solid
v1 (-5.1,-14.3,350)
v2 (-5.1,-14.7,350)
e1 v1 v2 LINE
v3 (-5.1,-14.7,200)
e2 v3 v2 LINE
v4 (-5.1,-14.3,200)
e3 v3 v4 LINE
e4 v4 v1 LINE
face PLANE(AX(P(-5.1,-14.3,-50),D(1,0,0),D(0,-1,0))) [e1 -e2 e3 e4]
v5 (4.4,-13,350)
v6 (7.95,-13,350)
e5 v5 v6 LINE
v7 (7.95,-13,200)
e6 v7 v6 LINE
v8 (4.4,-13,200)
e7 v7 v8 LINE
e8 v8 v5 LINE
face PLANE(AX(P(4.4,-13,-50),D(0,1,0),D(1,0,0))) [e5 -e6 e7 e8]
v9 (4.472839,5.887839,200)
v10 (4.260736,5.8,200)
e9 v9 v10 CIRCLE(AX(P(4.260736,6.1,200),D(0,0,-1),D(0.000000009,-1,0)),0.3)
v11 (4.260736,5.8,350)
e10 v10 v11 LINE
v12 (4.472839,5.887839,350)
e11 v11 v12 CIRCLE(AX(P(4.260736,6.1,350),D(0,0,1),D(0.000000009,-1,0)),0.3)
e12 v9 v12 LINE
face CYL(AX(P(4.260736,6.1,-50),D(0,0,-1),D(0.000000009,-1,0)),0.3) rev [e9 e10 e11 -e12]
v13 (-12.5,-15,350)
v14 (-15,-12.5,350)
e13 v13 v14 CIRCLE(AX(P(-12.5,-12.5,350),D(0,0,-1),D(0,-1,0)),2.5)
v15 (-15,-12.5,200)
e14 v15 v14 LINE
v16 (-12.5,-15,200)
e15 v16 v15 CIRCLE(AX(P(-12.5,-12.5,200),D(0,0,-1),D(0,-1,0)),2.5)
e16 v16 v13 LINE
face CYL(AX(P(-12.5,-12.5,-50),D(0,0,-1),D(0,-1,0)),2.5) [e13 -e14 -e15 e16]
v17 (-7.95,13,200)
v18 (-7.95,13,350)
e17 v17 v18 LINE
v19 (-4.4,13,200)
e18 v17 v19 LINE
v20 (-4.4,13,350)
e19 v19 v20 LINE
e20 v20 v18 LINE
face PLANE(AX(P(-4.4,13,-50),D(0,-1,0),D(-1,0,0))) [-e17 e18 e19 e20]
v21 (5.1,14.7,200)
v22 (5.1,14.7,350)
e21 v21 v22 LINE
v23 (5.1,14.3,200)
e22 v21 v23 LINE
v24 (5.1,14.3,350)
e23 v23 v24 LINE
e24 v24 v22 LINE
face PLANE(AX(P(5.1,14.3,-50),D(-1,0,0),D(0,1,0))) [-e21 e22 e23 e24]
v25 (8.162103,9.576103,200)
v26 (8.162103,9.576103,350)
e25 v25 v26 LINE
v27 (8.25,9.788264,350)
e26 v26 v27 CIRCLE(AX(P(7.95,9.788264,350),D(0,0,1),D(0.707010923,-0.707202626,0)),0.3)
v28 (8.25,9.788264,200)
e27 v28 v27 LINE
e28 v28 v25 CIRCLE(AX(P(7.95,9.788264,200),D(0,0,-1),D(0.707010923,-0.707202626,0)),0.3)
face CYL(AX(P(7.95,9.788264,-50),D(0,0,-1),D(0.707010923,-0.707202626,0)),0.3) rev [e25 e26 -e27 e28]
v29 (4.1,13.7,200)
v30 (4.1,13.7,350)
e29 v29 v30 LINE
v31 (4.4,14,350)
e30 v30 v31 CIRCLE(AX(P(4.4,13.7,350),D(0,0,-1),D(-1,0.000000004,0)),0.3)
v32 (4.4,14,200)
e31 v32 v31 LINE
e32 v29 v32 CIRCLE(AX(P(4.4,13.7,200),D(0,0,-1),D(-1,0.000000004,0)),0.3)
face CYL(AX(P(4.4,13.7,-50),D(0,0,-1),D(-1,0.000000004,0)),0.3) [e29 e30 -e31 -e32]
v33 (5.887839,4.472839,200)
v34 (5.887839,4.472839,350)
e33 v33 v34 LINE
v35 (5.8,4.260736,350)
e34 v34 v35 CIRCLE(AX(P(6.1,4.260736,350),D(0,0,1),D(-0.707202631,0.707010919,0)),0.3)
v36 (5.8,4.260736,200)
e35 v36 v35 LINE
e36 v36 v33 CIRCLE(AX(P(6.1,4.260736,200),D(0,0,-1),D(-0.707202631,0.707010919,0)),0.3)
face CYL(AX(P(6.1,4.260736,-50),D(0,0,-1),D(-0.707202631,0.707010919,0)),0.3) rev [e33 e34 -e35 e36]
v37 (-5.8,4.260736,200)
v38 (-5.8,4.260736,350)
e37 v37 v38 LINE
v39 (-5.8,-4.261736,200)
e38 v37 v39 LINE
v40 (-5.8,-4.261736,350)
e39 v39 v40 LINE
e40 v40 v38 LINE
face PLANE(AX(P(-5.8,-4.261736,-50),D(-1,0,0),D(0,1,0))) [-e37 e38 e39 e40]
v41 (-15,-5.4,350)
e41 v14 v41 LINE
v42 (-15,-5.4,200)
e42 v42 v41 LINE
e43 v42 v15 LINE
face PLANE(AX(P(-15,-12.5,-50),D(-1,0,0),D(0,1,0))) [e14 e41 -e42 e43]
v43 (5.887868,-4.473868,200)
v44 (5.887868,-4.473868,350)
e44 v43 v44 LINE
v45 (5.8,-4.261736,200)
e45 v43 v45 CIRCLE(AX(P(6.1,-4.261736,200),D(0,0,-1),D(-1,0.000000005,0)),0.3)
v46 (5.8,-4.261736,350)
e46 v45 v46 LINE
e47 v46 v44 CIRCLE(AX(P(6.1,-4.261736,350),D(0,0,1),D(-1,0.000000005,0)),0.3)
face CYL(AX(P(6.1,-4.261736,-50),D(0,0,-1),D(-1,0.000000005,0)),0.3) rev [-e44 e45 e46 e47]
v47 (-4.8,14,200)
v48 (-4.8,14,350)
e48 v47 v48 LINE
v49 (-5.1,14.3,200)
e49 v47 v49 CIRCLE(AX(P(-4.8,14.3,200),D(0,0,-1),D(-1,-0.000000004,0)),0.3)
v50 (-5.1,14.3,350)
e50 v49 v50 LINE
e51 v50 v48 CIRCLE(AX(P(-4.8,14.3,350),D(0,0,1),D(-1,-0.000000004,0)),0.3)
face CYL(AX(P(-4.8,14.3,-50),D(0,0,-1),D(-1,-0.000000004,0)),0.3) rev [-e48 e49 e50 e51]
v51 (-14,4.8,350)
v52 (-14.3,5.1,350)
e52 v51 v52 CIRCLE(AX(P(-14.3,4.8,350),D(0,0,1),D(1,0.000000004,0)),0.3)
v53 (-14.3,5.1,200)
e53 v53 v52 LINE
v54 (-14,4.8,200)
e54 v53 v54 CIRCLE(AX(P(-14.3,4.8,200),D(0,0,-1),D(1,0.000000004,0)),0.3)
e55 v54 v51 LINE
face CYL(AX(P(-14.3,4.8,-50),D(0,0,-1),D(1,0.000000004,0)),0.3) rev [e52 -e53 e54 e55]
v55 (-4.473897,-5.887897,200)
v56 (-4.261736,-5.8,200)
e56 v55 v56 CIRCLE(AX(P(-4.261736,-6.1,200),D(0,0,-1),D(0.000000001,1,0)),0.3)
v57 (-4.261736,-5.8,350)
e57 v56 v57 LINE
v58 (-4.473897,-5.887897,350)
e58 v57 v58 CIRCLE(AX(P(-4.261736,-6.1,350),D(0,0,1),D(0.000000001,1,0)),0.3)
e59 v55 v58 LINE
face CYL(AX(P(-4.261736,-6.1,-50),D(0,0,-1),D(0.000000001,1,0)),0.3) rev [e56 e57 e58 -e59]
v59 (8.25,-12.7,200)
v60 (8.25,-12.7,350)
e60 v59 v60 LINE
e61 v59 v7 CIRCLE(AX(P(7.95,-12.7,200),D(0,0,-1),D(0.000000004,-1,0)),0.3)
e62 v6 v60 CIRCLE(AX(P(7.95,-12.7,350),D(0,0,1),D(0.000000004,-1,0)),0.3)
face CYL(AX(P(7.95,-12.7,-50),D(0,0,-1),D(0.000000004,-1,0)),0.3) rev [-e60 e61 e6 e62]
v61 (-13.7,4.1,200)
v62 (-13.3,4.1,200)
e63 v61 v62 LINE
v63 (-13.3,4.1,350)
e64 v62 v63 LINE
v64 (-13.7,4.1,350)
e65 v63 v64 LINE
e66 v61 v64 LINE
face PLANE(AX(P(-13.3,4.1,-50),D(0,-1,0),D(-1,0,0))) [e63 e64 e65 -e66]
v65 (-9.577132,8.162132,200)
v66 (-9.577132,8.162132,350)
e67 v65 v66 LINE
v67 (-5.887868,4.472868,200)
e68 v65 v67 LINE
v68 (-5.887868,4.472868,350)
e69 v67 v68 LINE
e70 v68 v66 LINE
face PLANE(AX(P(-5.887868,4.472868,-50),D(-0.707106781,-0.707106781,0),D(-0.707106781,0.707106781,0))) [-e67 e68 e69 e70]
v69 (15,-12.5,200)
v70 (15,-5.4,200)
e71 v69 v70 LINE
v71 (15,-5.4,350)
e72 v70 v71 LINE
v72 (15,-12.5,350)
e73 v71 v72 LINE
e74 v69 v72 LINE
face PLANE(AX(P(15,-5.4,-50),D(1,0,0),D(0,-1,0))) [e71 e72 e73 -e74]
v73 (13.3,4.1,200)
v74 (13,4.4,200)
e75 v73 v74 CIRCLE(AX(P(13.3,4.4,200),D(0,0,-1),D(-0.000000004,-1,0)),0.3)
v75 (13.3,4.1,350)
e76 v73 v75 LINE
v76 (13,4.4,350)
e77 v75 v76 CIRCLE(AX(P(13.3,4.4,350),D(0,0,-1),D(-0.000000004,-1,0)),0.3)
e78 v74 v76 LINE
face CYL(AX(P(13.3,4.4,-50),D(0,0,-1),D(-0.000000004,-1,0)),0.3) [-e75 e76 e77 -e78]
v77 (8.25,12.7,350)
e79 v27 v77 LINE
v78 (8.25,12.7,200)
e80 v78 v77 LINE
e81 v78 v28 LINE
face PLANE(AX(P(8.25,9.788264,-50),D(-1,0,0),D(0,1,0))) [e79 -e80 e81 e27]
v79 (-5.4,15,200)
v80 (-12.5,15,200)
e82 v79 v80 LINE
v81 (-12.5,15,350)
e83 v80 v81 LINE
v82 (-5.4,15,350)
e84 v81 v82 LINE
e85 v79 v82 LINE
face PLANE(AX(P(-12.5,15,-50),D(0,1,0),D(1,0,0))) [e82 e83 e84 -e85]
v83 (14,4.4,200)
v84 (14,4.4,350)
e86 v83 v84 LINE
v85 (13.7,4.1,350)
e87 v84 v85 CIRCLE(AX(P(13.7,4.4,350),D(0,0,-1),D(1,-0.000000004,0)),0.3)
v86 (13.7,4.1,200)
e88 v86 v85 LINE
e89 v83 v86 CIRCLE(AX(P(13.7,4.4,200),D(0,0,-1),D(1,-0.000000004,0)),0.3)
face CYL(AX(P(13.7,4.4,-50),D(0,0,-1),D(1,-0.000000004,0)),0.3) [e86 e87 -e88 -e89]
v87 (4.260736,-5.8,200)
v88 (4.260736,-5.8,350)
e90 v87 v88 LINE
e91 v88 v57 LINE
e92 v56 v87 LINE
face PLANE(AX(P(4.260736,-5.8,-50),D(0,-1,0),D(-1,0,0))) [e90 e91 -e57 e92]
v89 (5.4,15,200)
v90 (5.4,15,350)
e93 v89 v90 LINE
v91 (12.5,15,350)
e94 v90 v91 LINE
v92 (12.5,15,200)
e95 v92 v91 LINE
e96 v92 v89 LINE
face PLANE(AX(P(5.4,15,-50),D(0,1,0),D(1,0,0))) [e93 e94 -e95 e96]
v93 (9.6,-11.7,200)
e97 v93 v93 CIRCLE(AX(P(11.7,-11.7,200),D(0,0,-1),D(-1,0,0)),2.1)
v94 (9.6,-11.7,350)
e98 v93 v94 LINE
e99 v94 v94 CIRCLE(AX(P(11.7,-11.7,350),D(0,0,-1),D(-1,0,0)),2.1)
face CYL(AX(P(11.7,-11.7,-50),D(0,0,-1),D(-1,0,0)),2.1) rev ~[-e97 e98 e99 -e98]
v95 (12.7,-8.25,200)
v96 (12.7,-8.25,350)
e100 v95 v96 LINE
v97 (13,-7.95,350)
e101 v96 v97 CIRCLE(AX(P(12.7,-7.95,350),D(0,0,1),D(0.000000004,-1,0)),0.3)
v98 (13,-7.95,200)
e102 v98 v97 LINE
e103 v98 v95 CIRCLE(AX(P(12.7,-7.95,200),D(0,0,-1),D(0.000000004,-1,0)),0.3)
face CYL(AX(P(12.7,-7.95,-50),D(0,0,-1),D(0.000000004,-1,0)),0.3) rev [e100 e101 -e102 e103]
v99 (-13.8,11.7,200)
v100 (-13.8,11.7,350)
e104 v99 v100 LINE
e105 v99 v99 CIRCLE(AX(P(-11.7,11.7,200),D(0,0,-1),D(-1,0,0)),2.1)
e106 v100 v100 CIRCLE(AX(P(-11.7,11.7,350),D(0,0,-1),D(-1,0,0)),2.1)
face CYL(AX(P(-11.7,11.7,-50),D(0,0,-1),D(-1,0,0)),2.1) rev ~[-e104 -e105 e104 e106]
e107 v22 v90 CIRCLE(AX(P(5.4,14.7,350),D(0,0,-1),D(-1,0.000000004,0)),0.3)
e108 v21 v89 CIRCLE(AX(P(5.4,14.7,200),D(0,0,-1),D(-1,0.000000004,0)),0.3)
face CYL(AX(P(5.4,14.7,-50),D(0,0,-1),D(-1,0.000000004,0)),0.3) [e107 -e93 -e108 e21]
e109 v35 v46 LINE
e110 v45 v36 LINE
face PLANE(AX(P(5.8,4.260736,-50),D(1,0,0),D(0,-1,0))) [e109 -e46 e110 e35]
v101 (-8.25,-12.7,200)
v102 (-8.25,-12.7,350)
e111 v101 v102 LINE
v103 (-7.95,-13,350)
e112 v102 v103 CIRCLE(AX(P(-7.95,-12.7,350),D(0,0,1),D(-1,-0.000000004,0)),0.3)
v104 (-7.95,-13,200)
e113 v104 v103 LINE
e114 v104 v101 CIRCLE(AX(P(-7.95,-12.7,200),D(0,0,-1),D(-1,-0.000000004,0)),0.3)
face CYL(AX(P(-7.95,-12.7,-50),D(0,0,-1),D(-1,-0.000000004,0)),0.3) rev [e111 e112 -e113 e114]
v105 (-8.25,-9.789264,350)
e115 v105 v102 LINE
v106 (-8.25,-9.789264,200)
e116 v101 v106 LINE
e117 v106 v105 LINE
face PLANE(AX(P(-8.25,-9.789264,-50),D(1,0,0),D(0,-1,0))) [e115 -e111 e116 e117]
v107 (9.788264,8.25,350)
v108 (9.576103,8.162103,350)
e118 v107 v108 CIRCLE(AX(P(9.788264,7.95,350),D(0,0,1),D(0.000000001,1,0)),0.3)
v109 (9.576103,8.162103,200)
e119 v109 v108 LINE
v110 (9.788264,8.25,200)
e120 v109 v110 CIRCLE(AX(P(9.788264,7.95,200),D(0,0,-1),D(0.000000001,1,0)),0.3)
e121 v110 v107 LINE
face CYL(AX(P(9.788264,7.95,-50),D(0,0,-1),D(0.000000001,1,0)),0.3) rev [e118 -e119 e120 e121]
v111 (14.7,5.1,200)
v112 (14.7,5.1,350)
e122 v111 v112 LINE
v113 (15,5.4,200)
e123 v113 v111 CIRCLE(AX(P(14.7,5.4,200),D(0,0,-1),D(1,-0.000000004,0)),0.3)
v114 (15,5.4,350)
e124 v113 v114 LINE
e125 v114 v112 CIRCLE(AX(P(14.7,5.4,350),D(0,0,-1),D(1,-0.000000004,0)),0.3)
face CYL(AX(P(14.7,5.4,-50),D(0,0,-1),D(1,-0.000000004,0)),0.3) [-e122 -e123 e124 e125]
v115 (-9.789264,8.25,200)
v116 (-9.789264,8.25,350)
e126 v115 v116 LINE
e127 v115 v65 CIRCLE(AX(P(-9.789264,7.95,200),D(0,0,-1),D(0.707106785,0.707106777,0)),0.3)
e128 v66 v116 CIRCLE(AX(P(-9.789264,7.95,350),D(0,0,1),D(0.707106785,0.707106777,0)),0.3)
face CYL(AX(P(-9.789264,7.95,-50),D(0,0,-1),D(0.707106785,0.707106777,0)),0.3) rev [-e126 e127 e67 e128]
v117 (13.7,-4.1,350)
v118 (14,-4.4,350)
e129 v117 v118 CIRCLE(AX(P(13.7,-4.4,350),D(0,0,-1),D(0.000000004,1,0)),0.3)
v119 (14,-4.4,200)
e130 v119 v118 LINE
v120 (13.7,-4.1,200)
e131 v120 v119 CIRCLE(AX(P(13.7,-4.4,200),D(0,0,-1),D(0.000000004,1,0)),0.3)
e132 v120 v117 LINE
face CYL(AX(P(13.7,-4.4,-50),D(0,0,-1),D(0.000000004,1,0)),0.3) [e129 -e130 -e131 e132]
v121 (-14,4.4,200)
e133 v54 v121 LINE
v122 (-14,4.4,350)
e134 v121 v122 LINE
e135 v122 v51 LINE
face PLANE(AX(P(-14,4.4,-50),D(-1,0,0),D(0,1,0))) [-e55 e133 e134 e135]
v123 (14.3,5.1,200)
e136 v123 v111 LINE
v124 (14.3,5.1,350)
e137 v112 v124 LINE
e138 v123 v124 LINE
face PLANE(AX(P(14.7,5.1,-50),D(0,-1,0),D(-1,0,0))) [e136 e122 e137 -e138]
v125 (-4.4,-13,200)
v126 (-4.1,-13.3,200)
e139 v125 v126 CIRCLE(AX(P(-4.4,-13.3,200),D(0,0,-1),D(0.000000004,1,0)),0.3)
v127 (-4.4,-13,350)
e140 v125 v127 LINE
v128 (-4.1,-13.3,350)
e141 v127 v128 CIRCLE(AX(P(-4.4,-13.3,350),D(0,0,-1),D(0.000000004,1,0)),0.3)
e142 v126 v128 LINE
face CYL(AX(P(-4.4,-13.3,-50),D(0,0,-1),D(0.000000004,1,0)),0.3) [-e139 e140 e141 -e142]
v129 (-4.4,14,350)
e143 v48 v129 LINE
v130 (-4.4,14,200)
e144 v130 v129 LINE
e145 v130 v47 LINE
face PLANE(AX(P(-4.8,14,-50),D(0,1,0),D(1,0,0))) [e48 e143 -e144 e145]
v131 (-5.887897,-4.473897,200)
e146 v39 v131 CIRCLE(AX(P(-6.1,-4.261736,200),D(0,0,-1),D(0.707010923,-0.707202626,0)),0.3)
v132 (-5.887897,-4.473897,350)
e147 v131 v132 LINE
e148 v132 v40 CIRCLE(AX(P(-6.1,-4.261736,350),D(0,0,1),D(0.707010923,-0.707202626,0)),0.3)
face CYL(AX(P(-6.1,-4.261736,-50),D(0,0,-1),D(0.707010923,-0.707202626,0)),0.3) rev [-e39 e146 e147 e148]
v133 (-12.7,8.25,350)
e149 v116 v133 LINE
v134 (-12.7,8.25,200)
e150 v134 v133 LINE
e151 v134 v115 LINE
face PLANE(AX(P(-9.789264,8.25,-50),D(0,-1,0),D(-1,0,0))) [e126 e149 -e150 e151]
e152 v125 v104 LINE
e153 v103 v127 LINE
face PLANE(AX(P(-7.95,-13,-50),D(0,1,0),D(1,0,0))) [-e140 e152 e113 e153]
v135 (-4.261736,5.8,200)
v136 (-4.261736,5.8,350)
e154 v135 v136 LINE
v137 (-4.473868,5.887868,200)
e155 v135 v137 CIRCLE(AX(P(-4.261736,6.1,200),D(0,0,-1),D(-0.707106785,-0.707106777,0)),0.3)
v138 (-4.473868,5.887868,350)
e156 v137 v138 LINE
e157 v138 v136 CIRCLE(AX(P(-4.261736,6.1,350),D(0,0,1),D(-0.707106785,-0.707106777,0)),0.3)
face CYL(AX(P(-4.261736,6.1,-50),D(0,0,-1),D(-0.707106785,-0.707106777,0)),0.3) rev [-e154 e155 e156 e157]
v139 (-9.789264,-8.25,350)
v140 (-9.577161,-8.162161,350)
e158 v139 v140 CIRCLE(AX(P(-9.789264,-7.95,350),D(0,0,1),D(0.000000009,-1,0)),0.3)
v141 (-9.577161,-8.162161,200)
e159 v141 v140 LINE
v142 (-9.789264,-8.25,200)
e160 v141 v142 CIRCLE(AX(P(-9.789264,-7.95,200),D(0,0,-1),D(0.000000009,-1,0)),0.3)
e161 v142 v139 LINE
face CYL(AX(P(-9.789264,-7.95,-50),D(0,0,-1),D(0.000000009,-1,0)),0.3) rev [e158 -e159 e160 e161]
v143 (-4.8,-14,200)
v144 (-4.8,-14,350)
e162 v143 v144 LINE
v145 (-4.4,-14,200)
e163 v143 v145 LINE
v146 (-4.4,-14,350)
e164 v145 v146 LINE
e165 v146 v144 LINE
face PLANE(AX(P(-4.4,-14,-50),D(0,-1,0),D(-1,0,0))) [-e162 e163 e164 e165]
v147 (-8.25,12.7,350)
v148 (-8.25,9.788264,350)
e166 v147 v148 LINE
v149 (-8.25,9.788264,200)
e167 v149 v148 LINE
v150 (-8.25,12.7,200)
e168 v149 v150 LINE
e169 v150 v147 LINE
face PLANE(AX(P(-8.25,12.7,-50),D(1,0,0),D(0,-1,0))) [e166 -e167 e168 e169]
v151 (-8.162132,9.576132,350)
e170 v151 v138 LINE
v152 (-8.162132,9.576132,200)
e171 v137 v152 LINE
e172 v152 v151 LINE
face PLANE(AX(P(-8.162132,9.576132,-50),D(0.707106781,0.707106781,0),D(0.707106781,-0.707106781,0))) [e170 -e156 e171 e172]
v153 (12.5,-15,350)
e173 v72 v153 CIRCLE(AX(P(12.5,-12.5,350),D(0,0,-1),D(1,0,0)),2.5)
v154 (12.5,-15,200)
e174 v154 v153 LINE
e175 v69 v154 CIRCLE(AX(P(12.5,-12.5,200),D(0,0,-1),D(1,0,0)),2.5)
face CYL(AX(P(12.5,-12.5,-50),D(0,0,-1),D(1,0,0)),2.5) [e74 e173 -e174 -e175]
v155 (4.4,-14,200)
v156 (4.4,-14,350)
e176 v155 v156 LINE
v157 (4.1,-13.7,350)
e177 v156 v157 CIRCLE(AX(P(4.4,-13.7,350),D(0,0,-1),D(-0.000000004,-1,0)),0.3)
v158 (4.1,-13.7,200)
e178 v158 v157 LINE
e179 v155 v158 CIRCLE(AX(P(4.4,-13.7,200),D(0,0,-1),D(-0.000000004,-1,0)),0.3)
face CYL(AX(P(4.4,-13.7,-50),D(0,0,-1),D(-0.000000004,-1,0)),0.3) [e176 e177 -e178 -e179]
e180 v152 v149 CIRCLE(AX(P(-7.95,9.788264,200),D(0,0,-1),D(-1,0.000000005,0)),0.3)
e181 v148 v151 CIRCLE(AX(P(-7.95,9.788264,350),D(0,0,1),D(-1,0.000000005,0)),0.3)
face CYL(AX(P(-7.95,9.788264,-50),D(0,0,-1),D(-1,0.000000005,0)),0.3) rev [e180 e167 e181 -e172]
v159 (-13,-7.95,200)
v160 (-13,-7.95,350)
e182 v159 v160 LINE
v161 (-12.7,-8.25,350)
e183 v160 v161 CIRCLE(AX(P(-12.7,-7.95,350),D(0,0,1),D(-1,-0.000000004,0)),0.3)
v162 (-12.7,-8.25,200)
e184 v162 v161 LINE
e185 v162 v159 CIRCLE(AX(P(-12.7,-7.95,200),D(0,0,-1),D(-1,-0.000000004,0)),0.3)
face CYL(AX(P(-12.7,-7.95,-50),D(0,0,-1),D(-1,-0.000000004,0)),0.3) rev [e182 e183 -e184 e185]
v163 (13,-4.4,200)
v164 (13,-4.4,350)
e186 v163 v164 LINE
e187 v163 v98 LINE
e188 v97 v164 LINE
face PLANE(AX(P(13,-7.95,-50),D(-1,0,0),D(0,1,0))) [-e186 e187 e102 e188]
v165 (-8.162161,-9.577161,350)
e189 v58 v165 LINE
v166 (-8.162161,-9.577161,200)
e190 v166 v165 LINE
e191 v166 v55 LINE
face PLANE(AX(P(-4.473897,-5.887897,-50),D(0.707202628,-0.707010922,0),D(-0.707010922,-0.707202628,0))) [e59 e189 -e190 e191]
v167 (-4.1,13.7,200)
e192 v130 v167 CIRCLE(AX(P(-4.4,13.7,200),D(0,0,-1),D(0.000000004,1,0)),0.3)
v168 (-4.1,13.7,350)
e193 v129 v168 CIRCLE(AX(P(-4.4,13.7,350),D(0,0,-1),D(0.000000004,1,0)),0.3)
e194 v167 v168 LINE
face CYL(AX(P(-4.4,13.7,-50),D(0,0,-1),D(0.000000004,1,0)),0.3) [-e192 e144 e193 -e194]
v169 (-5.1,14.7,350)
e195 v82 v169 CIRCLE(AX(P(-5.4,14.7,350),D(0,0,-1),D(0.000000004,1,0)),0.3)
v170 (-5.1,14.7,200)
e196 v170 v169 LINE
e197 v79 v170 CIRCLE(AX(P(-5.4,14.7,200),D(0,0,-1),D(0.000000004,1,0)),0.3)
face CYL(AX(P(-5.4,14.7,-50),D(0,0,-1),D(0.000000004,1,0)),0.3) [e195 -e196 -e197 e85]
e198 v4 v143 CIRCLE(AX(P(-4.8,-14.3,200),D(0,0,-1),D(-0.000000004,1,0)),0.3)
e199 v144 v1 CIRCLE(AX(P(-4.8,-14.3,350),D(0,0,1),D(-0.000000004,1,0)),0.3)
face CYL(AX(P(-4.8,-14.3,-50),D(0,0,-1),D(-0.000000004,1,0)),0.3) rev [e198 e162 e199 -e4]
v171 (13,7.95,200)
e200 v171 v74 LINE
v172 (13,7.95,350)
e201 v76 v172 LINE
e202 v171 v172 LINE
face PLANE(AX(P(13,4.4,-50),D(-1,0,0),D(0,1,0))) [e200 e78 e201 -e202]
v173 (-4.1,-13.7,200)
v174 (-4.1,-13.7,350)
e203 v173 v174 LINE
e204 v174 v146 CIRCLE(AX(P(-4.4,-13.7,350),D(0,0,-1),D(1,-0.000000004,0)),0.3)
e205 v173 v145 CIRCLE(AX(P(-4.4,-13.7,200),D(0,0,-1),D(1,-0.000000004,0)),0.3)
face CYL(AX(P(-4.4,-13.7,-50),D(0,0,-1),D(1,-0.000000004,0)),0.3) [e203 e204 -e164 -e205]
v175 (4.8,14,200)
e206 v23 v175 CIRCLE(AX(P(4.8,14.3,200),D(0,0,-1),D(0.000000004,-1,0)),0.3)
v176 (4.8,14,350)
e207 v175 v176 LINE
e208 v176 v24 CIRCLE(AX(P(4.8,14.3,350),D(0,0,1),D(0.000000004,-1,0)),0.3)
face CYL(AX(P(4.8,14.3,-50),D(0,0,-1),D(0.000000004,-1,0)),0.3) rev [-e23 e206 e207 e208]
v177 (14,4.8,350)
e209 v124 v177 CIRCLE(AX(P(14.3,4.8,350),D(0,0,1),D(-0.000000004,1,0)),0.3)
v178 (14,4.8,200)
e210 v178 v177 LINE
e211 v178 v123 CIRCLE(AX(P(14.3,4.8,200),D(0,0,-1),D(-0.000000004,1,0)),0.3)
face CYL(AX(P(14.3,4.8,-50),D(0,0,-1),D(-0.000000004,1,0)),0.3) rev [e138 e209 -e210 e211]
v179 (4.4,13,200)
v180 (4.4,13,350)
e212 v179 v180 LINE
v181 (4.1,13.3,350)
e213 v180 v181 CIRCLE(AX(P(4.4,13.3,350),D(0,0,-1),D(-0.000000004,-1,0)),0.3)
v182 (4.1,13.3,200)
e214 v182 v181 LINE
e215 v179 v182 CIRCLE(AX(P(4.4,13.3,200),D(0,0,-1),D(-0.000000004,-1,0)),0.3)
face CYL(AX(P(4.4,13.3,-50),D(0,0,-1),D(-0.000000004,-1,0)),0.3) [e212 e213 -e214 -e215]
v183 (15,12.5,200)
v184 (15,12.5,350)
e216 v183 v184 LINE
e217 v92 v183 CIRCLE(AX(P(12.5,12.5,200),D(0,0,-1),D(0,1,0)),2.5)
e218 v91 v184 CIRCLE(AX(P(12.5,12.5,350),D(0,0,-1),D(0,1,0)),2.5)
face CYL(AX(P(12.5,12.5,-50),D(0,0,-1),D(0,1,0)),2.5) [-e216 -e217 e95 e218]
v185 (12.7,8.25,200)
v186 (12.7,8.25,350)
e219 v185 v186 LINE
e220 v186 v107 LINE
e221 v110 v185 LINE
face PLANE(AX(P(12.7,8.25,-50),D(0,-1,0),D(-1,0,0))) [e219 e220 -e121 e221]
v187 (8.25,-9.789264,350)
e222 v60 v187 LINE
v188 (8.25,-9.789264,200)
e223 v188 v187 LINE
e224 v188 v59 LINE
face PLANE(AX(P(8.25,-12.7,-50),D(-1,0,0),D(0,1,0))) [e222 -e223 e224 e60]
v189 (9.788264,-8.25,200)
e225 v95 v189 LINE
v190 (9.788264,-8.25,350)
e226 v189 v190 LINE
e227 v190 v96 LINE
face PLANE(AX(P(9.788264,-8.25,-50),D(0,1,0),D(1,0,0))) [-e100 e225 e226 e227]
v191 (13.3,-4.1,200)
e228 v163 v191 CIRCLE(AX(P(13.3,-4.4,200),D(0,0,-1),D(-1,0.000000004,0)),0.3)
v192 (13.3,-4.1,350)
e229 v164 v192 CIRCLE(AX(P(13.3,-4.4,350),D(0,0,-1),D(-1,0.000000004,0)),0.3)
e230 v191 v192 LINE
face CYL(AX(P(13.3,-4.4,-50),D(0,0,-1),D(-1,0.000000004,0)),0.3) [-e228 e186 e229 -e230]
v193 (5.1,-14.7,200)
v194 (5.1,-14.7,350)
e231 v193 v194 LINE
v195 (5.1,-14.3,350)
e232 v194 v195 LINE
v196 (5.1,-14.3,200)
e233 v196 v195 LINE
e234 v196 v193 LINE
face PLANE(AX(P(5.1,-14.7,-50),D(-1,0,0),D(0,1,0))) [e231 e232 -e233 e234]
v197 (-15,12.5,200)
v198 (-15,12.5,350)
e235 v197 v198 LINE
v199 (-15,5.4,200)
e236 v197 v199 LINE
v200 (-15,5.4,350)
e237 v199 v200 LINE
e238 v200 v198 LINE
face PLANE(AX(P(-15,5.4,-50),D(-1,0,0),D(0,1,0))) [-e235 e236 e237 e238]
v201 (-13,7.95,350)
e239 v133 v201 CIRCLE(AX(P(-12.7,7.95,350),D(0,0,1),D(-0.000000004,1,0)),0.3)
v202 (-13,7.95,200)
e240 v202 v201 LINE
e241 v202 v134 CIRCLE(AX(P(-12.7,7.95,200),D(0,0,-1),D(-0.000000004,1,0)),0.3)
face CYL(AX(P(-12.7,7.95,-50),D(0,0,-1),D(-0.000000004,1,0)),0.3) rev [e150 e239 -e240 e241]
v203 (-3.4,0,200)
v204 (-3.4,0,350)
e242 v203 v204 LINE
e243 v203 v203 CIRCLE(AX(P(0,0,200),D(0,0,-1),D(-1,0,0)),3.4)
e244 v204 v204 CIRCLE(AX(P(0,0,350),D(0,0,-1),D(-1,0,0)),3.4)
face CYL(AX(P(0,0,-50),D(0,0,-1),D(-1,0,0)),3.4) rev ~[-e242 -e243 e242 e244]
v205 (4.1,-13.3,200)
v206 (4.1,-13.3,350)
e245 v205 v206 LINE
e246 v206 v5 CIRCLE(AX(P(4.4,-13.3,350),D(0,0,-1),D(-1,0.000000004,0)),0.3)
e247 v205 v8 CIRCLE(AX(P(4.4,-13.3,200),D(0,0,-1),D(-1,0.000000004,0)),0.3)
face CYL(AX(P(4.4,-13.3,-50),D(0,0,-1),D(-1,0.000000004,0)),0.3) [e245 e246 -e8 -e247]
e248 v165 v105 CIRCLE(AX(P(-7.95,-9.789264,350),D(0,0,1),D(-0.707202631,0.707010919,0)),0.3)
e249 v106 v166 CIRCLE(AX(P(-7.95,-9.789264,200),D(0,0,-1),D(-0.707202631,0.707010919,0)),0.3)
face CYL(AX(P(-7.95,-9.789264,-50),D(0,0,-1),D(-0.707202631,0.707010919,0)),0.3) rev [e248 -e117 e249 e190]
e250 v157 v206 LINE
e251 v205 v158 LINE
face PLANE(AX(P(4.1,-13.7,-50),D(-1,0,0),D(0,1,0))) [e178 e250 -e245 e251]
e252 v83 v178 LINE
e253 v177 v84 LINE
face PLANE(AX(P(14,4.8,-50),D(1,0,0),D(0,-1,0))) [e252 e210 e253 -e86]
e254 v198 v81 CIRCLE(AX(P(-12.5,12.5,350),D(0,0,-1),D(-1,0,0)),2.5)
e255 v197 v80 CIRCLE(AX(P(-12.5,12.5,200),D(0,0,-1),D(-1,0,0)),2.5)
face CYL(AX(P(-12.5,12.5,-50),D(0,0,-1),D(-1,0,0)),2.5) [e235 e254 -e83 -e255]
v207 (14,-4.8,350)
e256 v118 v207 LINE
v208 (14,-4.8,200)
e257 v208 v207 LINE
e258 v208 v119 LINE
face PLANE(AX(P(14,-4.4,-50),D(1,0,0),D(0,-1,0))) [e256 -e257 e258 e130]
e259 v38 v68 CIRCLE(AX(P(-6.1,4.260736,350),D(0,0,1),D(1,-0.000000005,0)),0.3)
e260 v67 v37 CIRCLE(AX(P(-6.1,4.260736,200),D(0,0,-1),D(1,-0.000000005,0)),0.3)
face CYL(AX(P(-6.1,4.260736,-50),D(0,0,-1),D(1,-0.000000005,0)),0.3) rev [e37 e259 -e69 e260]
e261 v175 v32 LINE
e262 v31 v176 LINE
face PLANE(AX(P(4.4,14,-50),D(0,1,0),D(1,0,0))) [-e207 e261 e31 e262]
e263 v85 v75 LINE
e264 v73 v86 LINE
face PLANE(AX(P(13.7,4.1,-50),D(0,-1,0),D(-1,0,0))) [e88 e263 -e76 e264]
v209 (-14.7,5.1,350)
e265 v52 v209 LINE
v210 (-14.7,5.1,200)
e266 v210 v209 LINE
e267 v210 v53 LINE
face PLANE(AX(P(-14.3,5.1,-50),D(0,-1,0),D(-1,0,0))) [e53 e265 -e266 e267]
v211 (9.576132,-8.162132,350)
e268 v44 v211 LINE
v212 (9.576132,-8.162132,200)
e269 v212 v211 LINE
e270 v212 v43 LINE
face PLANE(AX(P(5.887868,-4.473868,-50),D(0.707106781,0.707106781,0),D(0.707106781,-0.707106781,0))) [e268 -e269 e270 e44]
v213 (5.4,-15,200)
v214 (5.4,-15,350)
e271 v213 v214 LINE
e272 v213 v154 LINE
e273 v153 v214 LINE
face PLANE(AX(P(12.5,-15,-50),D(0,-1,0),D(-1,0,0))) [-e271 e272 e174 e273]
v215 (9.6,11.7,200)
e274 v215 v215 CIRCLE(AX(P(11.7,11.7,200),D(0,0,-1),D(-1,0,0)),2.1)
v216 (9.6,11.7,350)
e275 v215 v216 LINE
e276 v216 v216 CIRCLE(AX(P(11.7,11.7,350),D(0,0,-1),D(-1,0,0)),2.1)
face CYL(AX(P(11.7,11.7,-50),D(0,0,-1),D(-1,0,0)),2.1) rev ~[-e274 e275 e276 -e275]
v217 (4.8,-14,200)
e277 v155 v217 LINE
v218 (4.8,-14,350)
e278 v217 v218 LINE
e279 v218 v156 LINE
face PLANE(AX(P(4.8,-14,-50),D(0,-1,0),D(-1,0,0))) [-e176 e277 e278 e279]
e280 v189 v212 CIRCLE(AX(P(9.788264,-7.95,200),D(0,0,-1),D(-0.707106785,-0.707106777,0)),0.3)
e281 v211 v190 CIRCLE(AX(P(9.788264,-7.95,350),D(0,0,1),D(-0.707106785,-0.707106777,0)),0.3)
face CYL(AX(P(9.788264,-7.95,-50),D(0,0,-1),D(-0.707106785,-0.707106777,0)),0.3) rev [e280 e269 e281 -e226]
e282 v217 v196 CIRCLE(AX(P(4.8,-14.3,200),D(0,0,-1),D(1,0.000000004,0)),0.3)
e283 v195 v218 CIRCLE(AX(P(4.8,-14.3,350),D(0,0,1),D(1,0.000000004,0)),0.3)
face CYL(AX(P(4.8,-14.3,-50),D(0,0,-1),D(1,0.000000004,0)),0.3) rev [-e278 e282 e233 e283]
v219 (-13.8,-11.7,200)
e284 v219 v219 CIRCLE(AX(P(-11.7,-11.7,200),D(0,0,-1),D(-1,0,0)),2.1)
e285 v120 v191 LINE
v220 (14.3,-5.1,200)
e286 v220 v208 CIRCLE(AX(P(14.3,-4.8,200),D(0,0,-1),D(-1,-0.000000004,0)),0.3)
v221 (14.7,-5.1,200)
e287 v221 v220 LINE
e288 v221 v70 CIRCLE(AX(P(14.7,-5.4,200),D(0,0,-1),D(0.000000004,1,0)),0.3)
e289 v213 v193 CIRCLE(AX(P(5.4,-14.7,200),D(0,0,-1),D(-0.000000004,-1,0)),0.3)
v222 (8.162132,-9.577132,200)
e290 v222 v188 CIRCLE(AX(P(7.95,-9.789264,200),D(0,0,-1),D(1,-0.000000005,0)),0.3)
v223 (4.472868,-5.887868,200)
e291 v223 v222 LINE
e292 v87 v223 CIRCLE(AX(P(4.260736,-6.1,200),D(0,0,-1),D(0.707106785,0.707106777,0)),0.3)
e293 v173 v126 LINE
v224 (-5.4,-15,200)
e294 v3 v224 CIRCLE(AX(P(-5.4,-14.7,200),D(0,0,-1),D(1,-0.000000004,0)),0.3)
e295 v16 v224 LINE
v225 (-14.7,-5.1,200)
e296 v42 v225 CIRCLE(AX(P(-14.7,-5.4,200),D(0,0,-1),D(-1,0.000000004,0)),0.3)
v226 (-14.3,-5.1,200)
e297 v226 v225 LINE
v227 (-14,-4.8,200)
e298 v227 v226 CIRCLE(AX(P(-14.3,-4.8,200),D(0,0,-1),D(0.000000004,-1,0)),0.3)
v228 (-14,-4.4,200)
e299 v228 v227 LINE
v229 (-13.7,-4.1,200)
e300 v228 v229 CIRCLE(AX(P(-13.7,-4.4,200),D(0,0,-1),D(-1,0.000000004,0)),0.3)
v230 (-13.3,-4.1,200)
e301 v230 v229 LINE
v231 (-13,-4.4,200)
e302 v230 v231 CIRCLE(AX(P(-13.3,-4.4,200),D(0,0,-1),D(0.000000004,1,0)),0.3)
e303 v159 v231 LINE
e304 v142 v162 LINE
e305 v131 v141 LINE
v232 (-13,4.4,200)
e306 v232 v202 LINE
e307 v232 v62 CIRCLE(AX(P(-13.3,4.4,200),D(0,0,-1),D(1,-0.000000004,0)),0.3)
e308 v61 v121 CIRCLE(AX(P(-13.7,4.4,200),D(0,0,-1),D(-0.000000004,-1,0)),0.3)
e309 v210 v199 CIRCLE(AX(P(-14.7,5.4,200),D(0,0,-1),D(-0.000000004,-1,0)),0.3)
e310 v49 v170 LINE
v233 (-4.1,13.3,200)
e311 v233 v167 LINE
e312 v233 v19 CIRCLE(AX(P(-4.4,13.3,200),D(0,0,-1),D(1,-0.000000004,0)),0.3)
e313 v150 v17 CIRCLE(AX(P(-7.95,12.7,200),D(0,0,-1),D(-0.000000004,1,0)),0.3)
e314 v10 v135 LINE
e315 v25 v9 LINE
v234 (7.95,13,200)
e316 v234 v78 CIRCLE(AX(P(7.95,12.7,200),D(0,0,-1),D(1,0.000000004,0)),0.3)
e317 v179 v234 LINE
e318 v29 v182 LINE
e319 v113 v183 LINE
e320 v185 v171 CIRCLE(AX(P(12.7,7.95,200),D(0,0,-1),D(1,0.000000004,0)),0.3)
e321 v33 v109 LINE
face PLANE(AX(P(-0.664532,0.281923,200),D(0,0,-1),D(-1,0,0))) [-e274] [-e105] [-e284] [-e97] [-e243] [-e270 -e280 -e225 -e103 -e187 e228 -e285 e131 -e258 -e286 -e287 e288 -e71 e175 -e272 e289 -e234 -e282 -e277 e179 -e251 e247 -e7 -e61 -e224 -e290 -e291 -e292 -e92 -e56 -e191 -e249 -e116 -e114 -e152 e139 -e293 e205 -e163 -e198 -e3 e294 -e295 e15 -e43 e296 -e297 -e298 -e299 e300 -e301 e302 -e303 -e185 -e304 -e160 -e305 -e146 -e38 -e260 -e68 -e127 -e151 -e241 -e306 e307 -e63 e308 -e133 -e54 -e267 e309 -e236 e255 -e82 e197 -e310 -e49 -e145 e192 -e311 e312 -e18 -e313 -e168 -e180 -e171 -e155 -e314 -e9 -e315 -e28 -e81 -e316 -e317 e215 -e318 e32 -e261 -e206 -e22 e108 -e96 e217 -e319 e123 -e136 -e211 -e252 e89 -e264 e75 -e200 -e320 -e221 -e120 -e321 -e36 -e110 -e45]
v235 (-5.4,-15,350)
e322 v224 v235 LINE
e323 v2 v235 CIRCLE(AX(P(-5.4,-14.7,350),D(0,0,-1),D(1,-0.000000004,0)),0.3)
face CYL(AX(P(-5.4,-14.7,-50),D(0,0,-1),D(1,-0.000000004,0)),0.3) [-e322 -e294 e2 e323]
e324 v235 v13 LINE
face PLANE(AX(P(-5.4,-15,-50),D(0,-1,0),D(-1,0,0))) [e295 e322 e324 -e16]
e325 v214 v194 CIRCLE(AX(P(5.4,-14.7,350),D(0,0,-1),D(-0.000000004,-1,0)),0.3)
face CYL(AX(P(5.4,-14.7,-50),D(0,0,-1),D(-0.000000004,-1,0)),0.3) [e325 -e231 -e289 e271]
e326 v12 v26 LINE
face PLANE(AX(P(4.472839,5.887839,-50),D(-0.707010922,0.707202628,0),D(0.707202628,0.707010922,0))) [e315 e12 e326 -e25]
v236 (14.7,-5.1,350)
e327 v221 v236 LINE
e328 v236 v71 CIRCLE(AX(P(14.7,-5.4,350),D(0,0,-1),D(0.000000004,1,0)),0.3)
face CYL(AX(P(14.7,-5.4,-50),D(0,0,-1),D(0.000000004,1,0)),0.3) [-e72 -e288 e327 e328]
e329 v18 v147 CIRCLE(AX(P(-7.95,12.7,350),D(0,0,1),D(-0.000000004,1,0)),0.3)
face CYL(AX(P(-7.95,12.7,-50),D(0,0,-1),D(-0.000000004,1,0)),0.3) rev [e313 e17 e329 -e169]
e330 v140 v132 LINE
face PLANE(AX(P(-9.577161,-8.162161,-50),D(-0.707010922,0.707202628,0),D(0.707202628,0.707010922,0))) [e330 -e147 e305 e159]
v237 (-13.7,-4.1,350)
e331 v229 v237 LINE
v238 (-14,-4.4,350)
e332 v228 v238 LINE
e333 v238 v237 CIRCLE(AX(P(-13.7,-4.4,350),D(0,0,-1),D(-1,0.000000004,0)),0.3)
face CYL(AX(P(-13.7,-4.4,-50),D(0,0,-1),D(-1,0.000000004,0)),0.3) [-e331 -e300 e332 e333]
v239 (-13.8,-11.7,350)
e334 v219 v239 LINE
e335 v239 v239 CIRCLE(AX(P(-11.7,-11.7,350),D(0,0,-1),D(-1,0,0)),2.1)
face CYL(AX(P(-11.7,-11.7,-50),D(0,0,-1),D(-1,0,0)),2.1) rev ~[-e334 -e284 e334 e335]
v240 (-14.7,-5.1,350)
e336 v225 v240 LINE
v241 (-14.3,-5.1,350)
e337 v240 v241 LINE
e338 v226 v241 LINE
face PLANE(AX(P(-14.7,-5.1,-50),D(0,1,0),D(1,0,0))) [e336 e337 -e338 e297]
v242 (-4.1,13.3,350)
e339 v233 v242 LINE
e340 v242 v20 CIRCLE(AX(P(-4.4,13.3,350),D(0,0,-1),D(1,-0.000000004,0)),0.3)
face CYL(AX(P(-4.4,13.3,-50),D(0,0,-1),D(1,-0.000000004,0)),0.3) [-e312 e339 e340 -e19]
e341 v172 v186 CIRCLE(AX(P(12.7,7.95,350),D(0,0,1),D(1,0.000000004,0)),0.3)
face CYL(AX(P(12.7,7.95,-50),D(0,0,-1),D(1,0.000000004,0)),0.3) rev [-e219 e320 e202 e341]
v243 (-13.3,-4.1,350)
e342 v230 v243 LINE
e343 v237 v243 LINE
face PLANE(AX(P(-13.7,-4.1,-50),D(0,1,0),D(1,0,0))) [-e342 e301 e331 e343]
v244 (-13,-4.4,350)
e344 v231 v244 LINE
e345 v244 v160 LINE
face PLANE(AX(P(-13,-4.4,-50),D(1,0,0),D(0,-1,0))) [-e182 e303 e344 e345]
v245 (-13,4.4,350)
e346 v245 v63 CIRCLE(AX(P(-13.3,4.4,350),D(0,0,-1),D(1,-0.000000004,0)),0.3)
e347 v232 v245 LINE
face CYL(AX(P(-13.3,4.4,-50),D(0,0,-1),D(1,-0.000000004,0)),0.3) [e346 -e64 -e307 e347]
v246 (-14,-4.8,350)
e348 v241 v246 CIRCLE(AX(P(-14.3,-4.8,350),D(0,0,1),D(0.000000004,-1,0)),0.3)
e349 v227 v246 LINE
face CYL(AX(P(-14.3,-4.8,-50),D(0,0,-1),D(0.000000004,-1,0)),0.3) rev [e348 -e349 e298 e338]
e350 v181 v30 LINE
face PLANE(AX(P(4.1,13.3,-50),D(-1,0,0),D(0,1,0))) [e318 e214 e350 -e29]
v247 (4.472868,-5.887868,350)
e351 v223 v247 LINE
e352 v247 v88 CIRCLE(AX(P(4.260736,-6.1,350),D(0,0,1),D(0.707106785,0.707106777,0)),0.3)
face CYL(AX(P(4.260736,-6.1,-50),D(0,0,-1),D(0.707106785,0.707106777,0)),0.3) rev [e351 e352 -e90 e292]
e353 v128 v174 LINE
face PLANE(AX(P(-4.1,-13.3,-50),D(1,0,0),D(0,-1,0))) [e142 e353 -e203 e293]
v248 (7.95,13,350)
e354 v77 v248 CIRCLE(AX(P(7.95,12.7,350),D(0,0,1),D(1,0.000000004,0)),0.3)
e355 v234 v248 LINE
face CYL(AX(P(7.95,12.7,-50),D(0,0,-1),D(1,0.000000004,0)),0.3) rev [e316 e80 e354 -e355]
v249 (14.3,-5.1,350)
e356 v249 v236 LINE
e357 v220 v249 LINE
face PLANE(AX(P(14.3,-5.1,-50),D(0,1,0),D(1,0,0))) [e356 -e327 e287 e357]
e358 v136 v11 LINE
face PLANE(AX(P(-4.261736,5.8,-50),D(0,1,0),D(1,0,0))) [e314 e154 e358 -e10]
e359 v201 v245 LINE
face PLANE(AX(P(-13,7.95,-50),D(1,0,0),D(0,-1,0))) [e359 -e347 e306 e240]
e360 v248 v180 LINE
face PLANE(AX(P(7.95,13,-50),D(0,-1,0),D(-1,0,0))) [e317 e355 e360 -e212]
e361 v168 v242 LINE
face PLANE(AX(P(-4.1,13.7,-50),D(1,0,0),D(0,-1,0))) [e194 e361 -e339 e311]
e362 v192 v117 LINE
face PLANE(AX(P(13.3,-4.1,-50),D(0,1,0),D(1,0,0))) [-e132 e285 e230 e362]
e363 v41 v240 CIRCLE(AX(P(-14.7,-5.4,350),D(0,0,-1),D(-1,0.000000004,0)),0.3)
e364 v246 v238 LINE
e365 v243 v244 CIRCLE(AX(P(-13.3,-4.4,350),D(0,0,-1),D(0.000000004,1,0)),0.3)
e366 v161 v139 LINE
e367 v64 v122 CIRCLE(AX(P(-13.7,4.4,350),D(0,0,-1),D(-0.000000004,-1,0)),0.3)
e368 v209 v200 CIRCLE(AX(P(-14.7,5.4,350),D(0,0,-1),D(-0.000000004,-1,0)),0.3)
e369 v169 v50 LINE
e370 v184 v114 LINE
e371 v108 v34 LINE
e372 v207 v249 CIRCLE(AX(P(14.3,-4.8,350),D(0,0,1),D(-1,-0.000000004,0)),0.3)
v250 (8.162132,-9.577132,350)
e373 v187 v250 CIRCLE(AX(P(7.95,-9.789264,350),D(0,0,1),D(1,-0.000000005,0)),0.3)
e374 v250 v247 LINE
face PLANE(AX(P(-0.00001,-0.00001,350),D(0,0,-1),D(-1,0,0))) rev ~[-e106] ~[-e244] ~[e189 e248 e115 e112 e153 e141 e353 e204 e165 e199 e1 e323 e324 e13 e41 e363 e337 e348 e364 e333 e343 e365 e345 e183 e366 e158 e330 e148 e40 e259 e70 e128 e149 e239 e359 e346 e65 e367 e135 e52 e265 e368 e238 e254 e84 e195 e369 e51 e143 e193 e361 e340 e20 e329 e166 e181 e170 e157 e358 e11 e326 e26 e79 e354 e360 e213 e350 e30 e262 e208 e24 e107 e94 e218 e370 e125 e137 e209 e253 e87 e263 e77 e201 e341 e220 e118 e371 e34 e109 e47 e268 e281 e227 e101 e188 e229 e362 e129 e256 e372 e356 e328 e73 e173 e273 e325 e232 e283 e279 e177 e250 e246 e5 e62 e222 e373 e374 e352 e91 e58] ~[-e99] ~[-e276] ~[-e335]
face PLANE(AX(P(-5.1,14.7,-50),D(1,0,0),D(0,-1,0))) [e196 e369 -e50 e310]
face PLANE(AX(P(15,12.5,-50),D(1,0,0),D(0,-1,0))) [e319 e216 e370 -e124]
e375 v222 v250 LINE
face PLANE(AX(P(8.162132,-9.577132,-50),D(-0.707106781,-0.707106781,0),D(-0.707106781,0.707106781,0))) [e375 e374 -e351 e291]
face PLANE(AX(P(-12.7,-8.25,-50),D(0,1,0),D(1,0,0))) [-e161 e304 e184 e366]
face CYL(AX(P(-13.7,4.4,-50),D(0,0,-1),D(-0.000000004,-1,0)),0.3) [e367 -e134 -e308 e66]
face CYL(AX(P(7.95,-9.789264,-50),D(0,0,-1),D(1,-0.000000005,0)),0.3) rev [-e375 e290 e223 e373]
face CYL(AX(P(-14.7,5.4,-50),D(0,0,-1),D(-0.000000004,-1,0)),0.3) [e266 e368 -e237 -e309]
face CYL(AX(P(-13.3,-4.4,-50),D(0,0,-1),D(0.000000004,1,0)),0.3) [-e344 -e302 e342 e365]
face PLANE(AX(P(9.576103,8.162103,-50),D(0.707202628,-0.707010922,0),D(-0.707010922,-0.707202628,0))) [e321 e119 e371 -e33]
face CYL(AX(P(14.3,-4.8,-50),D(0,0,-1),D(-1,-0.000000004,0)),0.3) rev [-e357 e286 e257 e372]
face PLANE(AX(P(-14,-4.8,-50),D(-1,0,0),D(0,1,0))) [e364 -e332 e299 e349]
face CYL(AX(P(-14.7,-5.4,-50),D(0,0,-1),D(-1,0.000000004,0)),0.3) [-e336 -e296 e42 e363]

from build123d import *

# Parameters (mm, degrees)
CROQUIS1_R              = 2.1
CROQUIS1_R_2            = 3.4
SALIENTE_EXTRUIR1_DEPTH = 400
CROQUIS2_W              = 39.308064919
CROQUIS2_H              = 32.219725343
CORTAR_EXTRUIR1_DEPTH   = 250


with BuildPart() as part:
    # Croquis1 → Saliente-Extruir1 (new body)
    with BuildSketch(Plane(origin=(0, 0, -50), x_dir=(-1, 0, 0), z_dir=(0, 0, -1))):
        with BuildLine():
            Line((14.7, -5.1), (14.3, -5.1))
            ThreePointArc((14.3, -5.1), (14.087867966, -5.012132034), (14, -4.8))
            Line((14, -4.8), (14, -4.4))
            ThreePointArc((14, -4.4), (13.912132034, -4.187867966), (13.7, -4.1))
            Line((13.7, -4.1), (13.3, -4.1))
            ThreePointArc((13.3, -4.1), (13.087867966, -4.187867966), (13, -4.4))
            Line((13, -4.4), (13, -7.95))
            ThreePointArc((13, -7.95), (12.912132034, -8.162132034), (12.7, -8.25))
            Line((12.7, -8.25), (9.789264108, -8.25))
            ThreePointArc((9.789264108, -8.25), (9.674477865, -8.22717164), (9.577160832, -8.162160788))
            Line((9.577160832, -8.162160788), (5.887896723, -4.473896751))
            ThreePointArc((5.887896723, -4.473896751), (5.822843922, -4.376559778), (5.8, -4.261735963))
            Line((5.8, -4.261735963), (5.8, 4.260735931))
            ThreePointArc((5.8, 4.260735931), (5.82283614, 4.375540961), (5.887867966, 4.472867966))
            Line((5.887867966, 4.472867966), (9.577132034, 8.162132034))
            ThreePointArc((9.577132034, 8.162132034), (9.674459039, 8.22716386), (9.789264069, 8.25))
            Line((9.789264069, 8.25), (12.7, 8.25))
            ThreePointArc((12.7, 8.25), (12.912132034, 8.162132034), (13, 7.95))
            Line((13, 7.95), (13, 4.4))
            ThreePointArc((13, 4.4), (13.087867966, 4.187867966), (13.3, 4.1))
            Line((13.3, 4.1), (13.7, 4.1))
            ThreePointArc((13.7, 4.1), (13.912132034, 4.187867966), (14, 4.4))
            Line((14, 4.4), (14, 4.8))
            ThreePointArc((14, 4.8), (14.087867966, 5.012132034), (14.3, 5.1))
            Line((14.3, 5.1), (14.7, 5.1))
            ThreePointArc((14.7, 5.1), (14.912132034, 5.187867966), (15, 5.4))
            Line((15, 5.4), (15, 12.5))
            ThreePointArc((15, 12.5), (14.267766953, 14.267766953), (12.5, 15))
            Line((12.5, 15), (5.4, 15))
            ThreePointArc((5.4, 15), (5.187867966, 14.912132034), (5.1, 14.7))
            Line((5.1, 14.7), (5.1, 14.3))
            ThreePointArc((5.1, 14.3), (5.012132034, 14.087867966), (4.8, 14))
            Line((4.8, 14), (4.4, 14))
            ThreePointArc((4.4, 14), (4.187867966, 13.912132034), (4.1, 13.7))
            Line((4.1, 13.7), (4.1, 13.3))
            ThreePointArc((4.1, 13.3), (4.187867966, 13.087867966), (4.4, 13))
            Line((4.4, 13), (7.95, 13))
            ThreePointArc((7.95, 13), (8.162132034, 12.912132034), (8.25, 12.7))
            Line((8.25, 12.7), (8.25, 9.788264069))
            ThreePointArc((8.25, 9.788264069), (8.22716386, 9.673459039), (8.162132034, 9.576132034))
            Line((8.162132034, 9.576132034), (4.473867966, 5.887867966))
            ThreePointArc((4.473867966, 5.887867966), (4.376540961, 5.82283614), (4.261735931, 5.8))
            Line((4.261735931, 5.8), (-4.260735892, 5.8))
            ThreePointArc((-4.260735892, 5.8), (-4.375522135, 5.82282836), (-4.472839168, 5.887839212))
            Line((-4.472839168, 5.887839212), (-8.162103277, 9.576103249))
            ThreePointArc((-8.162103277, 9.576103249), (-8.227156078, 9.673440222), (-8.25, 9.788264037))
            Line((-8.25, 9.788264037), (-8.25, 12.7))
            ThreePointArc((-8.25, 12.7), (-8.162132034, 12.912132034), (-7.95, 13))
            Line((-7.95, 13), (-4.4, 13))
            ThreePointArc((-4.4, 13), (-4.187867966, 13.087867966), (-4.1, 13.3))
            Line((-4.1, 13.3), (-4.1, 13.7))
            ThreePointArc((-4.1, 13.7), (-4.187867966, 13.912132034), (-4.4, 14))
            Line((-4.4, 14), (-4.8, 14))
            ThreePointArc((-4.8, 14), (-5.012132034, 14.087867966), (-5.1, 14.3))
            Line((-5.1, 14.3), (-5.1, 14.7))
            ThreePointArc((-5.1, 14.7), (-5.187867966, 14.912132034), (-5.4, 15))
            Line((-5.4, 15), (-12.5, 15))
            ThreePointArc((-12.5, 15), (-14.267766953, 14.267766953), (-15, 12.5))
            Line((-15, 12.5), (-15, 5.4))
            ThreePointArc((-15, 5.4), (-14.912132034, 5.187867966), (-14.7, 5.1))
            Line((-14.7, 5.1), (-14.3, 5.1))
            ThreePointArc((-14.3, 5.1), (-14.087867966, 5.012132034), (-14, 4.8))
            Line((-14, 4.8), (-14, 4.4))
            ThreePointArc((-14, 4.4), (-13.912132034, 4.187867966), (-13.7, 4.1))
            Line((-13.7, 4.1), (-13.3, 4.1))
            ThreePointArc((-13.3, 4.1), (-13.087867966, 4.187867966), (-13, 4.4))
            Line((-13, 4.4), (-13, 7.95))
            ThreePointArc((-13, 7.95), (-12.912132034, 8.162132034), (-12.7, 8.25))
            Line((-12.7, 8.25), (-9.788264037, 8.25))
            ThreePointArc((-9.788264037, 8.25), (-9.673440222, 8.227156078), (-9.576103249, 8.162103277))
            Line((-9.576103249, 8.162103277), (-5.887839212, 4.472839168))
            ThreePointArc((-5.887839212, 4.472839168), (-5.82282836, 4.375522135), (-5.8, 4.260735892))
            Line((-5.8, 4.260735892), (-5.8, -4.261735931))
            ThreePointArc((-5.8, -4.261735931), (-5.82283614, -4.376540961), (-5.887867966, -4.473867966))
            Line((-5.887867966, -4.473867966), (-9.576132034, -8.162132034))
            ThreePointArc((-9.576132034, -8.162132034), (-9.673459039, -8.22716386), (-9.788264069, -8.25))
            Line((-9.788264069, -8.25), (-12.7, -8.25))
            ThreePointArc((-12.7, -8.25), (-12.912132034, -8.162132034), (-13, -7.95))
            Line((-13, -7.95), (-13, -4.4))
            ThreePointArc((-13, -4.4), (-13.087867966, -4.187867966), (-13.3, -4.1))
            Line((-13.3, -4.1), (-13.7, -4.1))
            ThreePointArc((-13.7, -4.1), (-13.912132034, -4.187867966), (-14, -4.4))
            Line((-14, -4.4), (-14, -4.8))
            ThreePointArc((-14, -4.8), (-14.087867966, -5.012132034), (-14.3, -5.1))
            Line((-14.3, -5.1), (-14.7, -5.1))
            ThreePointArc((-14.7, -5.1), (-14.912132034, -5.187867966), (-15, -5.4))
            Line((-15, -5.4), (-15, -12.5))
            ThreePointArc((-15, -12.5), (-14.267766953, -14.267766953), (-12.5, -15))
            Line((-12.5, -15), (-5.4, -15))
            ThreePointArc((-5.4, -15), (-5.187867966, -14.912132034), (-5.1, -14.7))
            Line((-5.1, -14.7), (-5.1, -14.3))
            ThreePointArc((-5.1, -14.3), (-5.012132034, -14.087867966), (-4.8, -14))
            Line((-4.8, -14), (-4.4, -14))
            ThreePointArc((-4.4, -14), (-4.187867966, -13.912132034), (-4.1, -13.7))
            Line((-4.1, -13.7), (-4.1, -13.3))
            ThreePointArc((-4.1, -13.3), (-4.187867966, -13.087867966), (-4.4, -13))
            Line((-4.4, -13), (-7.95, -13))
            ThreePointArc((-7.95, -13), (-8.162132034, -12.912132034), (-8.25, -12.7))
            Line((-8.25, -12.7), (-8.25, -9.789264069))
            ThreePointArc((-8.25, -9.789264069), (-8.22716386, -9.674459039), (-8.162132034, -9.577132034))
            Line((-8.162132034, -9.577132034), (-4.472867966, -5.887867966))
            ThreePointArc((-4.472867966, -5.887867966), (-4.375540961, -5.82283614), (-4.260735931, -5.8))
            Line((-4.260735931, -5.8), (4.261735963, -5.8))
            ThreePointArc((4.261735963, -5.8), (4.376559778, -5.822843922), (4.473896751, -5.887896723))
            Line((4.473896751, -5.887896723), (8.162160788, -9.577160832))
            ThreePointArc((8.162160788, -9.577160832), (8.22717164, -9.674477865), (8.25, -9.789264108))
            Line((8.25, -9.789264108), (8.25, -12.7))
            ThreePointArc((8.25, -12.7), (8.162132034, -12.912132034), (7.95, -13))
            Line((7.95, -13), (4.4, -13))
            ThreePointArc((4.4, -13), (4.187867966, -13.087867966), (4.1, -13.3))
            Line((4.1, -13.3), (4.1, -13.7))
            ThreePointArc((4.1, -13.7), (4.187867966, -13.912132034), (4.4, -14))
            Line((4.4, -14), (4.8, -14))
            ThreePointArc((4.8, -14), (5.012132034, -14.087867966), (5.1, -14.3))
            Line((5.1, -14.3), (5.1, -14.7))
            ThreePointArc((5.1, -14.7), (5.187867966, -14.912132034), (5.4, -15))
            Line((5.4, -15), (12.5, -15))
            ThreePointArc((12.5, -15), (14.267766953, -14.267766953), (15, -12.5))
            Line((15, -12.5), (15, -5.4))
            ThreePointArc((15, -5.4), (14.912132034, -5.187867966), (14.7, -5.1))
        make_face()
        with Locations((-11.7, 11.7)):
            Circle(CROQUIS1_R, mode=Mode.SUBTRACT)
        with Locations((-11.7, -11.7)):
            Circle(CROQUIS1_R, mode=Mode.SUBTRACT)
        Circle(CROQUIS1_R_2, mode=Mode.SUBTRACT)
        with Locations((11.7, 11.7)):
            Circle(CROQUIS1_R, mode=Mode.SUBTRACT)
        with Locations((11.7, -11.7)):
            Circle(CROQUIS1_R, mode=Mode.SUBTRACT)
    extrude(amount=-SALIENTE_EXTRUIR1_DEPTH)

    # Croquis2 → Cortar-Extruir1 (cut)
    with BuildSketch(Plane(origin=(0, 0, -50), x_dir=(-1, 0, 0), z_dir=(0, 0, -1))):
        with Locations((0.664531836, 0.281922596)):
            Rectangle(CROQUIS2_W, CROQUIS2_H)
    extrude(amount=-CORTAR_EXTRUIR1_DEPTH, mode=Mode.SUBTRACT)


solid = part.part
